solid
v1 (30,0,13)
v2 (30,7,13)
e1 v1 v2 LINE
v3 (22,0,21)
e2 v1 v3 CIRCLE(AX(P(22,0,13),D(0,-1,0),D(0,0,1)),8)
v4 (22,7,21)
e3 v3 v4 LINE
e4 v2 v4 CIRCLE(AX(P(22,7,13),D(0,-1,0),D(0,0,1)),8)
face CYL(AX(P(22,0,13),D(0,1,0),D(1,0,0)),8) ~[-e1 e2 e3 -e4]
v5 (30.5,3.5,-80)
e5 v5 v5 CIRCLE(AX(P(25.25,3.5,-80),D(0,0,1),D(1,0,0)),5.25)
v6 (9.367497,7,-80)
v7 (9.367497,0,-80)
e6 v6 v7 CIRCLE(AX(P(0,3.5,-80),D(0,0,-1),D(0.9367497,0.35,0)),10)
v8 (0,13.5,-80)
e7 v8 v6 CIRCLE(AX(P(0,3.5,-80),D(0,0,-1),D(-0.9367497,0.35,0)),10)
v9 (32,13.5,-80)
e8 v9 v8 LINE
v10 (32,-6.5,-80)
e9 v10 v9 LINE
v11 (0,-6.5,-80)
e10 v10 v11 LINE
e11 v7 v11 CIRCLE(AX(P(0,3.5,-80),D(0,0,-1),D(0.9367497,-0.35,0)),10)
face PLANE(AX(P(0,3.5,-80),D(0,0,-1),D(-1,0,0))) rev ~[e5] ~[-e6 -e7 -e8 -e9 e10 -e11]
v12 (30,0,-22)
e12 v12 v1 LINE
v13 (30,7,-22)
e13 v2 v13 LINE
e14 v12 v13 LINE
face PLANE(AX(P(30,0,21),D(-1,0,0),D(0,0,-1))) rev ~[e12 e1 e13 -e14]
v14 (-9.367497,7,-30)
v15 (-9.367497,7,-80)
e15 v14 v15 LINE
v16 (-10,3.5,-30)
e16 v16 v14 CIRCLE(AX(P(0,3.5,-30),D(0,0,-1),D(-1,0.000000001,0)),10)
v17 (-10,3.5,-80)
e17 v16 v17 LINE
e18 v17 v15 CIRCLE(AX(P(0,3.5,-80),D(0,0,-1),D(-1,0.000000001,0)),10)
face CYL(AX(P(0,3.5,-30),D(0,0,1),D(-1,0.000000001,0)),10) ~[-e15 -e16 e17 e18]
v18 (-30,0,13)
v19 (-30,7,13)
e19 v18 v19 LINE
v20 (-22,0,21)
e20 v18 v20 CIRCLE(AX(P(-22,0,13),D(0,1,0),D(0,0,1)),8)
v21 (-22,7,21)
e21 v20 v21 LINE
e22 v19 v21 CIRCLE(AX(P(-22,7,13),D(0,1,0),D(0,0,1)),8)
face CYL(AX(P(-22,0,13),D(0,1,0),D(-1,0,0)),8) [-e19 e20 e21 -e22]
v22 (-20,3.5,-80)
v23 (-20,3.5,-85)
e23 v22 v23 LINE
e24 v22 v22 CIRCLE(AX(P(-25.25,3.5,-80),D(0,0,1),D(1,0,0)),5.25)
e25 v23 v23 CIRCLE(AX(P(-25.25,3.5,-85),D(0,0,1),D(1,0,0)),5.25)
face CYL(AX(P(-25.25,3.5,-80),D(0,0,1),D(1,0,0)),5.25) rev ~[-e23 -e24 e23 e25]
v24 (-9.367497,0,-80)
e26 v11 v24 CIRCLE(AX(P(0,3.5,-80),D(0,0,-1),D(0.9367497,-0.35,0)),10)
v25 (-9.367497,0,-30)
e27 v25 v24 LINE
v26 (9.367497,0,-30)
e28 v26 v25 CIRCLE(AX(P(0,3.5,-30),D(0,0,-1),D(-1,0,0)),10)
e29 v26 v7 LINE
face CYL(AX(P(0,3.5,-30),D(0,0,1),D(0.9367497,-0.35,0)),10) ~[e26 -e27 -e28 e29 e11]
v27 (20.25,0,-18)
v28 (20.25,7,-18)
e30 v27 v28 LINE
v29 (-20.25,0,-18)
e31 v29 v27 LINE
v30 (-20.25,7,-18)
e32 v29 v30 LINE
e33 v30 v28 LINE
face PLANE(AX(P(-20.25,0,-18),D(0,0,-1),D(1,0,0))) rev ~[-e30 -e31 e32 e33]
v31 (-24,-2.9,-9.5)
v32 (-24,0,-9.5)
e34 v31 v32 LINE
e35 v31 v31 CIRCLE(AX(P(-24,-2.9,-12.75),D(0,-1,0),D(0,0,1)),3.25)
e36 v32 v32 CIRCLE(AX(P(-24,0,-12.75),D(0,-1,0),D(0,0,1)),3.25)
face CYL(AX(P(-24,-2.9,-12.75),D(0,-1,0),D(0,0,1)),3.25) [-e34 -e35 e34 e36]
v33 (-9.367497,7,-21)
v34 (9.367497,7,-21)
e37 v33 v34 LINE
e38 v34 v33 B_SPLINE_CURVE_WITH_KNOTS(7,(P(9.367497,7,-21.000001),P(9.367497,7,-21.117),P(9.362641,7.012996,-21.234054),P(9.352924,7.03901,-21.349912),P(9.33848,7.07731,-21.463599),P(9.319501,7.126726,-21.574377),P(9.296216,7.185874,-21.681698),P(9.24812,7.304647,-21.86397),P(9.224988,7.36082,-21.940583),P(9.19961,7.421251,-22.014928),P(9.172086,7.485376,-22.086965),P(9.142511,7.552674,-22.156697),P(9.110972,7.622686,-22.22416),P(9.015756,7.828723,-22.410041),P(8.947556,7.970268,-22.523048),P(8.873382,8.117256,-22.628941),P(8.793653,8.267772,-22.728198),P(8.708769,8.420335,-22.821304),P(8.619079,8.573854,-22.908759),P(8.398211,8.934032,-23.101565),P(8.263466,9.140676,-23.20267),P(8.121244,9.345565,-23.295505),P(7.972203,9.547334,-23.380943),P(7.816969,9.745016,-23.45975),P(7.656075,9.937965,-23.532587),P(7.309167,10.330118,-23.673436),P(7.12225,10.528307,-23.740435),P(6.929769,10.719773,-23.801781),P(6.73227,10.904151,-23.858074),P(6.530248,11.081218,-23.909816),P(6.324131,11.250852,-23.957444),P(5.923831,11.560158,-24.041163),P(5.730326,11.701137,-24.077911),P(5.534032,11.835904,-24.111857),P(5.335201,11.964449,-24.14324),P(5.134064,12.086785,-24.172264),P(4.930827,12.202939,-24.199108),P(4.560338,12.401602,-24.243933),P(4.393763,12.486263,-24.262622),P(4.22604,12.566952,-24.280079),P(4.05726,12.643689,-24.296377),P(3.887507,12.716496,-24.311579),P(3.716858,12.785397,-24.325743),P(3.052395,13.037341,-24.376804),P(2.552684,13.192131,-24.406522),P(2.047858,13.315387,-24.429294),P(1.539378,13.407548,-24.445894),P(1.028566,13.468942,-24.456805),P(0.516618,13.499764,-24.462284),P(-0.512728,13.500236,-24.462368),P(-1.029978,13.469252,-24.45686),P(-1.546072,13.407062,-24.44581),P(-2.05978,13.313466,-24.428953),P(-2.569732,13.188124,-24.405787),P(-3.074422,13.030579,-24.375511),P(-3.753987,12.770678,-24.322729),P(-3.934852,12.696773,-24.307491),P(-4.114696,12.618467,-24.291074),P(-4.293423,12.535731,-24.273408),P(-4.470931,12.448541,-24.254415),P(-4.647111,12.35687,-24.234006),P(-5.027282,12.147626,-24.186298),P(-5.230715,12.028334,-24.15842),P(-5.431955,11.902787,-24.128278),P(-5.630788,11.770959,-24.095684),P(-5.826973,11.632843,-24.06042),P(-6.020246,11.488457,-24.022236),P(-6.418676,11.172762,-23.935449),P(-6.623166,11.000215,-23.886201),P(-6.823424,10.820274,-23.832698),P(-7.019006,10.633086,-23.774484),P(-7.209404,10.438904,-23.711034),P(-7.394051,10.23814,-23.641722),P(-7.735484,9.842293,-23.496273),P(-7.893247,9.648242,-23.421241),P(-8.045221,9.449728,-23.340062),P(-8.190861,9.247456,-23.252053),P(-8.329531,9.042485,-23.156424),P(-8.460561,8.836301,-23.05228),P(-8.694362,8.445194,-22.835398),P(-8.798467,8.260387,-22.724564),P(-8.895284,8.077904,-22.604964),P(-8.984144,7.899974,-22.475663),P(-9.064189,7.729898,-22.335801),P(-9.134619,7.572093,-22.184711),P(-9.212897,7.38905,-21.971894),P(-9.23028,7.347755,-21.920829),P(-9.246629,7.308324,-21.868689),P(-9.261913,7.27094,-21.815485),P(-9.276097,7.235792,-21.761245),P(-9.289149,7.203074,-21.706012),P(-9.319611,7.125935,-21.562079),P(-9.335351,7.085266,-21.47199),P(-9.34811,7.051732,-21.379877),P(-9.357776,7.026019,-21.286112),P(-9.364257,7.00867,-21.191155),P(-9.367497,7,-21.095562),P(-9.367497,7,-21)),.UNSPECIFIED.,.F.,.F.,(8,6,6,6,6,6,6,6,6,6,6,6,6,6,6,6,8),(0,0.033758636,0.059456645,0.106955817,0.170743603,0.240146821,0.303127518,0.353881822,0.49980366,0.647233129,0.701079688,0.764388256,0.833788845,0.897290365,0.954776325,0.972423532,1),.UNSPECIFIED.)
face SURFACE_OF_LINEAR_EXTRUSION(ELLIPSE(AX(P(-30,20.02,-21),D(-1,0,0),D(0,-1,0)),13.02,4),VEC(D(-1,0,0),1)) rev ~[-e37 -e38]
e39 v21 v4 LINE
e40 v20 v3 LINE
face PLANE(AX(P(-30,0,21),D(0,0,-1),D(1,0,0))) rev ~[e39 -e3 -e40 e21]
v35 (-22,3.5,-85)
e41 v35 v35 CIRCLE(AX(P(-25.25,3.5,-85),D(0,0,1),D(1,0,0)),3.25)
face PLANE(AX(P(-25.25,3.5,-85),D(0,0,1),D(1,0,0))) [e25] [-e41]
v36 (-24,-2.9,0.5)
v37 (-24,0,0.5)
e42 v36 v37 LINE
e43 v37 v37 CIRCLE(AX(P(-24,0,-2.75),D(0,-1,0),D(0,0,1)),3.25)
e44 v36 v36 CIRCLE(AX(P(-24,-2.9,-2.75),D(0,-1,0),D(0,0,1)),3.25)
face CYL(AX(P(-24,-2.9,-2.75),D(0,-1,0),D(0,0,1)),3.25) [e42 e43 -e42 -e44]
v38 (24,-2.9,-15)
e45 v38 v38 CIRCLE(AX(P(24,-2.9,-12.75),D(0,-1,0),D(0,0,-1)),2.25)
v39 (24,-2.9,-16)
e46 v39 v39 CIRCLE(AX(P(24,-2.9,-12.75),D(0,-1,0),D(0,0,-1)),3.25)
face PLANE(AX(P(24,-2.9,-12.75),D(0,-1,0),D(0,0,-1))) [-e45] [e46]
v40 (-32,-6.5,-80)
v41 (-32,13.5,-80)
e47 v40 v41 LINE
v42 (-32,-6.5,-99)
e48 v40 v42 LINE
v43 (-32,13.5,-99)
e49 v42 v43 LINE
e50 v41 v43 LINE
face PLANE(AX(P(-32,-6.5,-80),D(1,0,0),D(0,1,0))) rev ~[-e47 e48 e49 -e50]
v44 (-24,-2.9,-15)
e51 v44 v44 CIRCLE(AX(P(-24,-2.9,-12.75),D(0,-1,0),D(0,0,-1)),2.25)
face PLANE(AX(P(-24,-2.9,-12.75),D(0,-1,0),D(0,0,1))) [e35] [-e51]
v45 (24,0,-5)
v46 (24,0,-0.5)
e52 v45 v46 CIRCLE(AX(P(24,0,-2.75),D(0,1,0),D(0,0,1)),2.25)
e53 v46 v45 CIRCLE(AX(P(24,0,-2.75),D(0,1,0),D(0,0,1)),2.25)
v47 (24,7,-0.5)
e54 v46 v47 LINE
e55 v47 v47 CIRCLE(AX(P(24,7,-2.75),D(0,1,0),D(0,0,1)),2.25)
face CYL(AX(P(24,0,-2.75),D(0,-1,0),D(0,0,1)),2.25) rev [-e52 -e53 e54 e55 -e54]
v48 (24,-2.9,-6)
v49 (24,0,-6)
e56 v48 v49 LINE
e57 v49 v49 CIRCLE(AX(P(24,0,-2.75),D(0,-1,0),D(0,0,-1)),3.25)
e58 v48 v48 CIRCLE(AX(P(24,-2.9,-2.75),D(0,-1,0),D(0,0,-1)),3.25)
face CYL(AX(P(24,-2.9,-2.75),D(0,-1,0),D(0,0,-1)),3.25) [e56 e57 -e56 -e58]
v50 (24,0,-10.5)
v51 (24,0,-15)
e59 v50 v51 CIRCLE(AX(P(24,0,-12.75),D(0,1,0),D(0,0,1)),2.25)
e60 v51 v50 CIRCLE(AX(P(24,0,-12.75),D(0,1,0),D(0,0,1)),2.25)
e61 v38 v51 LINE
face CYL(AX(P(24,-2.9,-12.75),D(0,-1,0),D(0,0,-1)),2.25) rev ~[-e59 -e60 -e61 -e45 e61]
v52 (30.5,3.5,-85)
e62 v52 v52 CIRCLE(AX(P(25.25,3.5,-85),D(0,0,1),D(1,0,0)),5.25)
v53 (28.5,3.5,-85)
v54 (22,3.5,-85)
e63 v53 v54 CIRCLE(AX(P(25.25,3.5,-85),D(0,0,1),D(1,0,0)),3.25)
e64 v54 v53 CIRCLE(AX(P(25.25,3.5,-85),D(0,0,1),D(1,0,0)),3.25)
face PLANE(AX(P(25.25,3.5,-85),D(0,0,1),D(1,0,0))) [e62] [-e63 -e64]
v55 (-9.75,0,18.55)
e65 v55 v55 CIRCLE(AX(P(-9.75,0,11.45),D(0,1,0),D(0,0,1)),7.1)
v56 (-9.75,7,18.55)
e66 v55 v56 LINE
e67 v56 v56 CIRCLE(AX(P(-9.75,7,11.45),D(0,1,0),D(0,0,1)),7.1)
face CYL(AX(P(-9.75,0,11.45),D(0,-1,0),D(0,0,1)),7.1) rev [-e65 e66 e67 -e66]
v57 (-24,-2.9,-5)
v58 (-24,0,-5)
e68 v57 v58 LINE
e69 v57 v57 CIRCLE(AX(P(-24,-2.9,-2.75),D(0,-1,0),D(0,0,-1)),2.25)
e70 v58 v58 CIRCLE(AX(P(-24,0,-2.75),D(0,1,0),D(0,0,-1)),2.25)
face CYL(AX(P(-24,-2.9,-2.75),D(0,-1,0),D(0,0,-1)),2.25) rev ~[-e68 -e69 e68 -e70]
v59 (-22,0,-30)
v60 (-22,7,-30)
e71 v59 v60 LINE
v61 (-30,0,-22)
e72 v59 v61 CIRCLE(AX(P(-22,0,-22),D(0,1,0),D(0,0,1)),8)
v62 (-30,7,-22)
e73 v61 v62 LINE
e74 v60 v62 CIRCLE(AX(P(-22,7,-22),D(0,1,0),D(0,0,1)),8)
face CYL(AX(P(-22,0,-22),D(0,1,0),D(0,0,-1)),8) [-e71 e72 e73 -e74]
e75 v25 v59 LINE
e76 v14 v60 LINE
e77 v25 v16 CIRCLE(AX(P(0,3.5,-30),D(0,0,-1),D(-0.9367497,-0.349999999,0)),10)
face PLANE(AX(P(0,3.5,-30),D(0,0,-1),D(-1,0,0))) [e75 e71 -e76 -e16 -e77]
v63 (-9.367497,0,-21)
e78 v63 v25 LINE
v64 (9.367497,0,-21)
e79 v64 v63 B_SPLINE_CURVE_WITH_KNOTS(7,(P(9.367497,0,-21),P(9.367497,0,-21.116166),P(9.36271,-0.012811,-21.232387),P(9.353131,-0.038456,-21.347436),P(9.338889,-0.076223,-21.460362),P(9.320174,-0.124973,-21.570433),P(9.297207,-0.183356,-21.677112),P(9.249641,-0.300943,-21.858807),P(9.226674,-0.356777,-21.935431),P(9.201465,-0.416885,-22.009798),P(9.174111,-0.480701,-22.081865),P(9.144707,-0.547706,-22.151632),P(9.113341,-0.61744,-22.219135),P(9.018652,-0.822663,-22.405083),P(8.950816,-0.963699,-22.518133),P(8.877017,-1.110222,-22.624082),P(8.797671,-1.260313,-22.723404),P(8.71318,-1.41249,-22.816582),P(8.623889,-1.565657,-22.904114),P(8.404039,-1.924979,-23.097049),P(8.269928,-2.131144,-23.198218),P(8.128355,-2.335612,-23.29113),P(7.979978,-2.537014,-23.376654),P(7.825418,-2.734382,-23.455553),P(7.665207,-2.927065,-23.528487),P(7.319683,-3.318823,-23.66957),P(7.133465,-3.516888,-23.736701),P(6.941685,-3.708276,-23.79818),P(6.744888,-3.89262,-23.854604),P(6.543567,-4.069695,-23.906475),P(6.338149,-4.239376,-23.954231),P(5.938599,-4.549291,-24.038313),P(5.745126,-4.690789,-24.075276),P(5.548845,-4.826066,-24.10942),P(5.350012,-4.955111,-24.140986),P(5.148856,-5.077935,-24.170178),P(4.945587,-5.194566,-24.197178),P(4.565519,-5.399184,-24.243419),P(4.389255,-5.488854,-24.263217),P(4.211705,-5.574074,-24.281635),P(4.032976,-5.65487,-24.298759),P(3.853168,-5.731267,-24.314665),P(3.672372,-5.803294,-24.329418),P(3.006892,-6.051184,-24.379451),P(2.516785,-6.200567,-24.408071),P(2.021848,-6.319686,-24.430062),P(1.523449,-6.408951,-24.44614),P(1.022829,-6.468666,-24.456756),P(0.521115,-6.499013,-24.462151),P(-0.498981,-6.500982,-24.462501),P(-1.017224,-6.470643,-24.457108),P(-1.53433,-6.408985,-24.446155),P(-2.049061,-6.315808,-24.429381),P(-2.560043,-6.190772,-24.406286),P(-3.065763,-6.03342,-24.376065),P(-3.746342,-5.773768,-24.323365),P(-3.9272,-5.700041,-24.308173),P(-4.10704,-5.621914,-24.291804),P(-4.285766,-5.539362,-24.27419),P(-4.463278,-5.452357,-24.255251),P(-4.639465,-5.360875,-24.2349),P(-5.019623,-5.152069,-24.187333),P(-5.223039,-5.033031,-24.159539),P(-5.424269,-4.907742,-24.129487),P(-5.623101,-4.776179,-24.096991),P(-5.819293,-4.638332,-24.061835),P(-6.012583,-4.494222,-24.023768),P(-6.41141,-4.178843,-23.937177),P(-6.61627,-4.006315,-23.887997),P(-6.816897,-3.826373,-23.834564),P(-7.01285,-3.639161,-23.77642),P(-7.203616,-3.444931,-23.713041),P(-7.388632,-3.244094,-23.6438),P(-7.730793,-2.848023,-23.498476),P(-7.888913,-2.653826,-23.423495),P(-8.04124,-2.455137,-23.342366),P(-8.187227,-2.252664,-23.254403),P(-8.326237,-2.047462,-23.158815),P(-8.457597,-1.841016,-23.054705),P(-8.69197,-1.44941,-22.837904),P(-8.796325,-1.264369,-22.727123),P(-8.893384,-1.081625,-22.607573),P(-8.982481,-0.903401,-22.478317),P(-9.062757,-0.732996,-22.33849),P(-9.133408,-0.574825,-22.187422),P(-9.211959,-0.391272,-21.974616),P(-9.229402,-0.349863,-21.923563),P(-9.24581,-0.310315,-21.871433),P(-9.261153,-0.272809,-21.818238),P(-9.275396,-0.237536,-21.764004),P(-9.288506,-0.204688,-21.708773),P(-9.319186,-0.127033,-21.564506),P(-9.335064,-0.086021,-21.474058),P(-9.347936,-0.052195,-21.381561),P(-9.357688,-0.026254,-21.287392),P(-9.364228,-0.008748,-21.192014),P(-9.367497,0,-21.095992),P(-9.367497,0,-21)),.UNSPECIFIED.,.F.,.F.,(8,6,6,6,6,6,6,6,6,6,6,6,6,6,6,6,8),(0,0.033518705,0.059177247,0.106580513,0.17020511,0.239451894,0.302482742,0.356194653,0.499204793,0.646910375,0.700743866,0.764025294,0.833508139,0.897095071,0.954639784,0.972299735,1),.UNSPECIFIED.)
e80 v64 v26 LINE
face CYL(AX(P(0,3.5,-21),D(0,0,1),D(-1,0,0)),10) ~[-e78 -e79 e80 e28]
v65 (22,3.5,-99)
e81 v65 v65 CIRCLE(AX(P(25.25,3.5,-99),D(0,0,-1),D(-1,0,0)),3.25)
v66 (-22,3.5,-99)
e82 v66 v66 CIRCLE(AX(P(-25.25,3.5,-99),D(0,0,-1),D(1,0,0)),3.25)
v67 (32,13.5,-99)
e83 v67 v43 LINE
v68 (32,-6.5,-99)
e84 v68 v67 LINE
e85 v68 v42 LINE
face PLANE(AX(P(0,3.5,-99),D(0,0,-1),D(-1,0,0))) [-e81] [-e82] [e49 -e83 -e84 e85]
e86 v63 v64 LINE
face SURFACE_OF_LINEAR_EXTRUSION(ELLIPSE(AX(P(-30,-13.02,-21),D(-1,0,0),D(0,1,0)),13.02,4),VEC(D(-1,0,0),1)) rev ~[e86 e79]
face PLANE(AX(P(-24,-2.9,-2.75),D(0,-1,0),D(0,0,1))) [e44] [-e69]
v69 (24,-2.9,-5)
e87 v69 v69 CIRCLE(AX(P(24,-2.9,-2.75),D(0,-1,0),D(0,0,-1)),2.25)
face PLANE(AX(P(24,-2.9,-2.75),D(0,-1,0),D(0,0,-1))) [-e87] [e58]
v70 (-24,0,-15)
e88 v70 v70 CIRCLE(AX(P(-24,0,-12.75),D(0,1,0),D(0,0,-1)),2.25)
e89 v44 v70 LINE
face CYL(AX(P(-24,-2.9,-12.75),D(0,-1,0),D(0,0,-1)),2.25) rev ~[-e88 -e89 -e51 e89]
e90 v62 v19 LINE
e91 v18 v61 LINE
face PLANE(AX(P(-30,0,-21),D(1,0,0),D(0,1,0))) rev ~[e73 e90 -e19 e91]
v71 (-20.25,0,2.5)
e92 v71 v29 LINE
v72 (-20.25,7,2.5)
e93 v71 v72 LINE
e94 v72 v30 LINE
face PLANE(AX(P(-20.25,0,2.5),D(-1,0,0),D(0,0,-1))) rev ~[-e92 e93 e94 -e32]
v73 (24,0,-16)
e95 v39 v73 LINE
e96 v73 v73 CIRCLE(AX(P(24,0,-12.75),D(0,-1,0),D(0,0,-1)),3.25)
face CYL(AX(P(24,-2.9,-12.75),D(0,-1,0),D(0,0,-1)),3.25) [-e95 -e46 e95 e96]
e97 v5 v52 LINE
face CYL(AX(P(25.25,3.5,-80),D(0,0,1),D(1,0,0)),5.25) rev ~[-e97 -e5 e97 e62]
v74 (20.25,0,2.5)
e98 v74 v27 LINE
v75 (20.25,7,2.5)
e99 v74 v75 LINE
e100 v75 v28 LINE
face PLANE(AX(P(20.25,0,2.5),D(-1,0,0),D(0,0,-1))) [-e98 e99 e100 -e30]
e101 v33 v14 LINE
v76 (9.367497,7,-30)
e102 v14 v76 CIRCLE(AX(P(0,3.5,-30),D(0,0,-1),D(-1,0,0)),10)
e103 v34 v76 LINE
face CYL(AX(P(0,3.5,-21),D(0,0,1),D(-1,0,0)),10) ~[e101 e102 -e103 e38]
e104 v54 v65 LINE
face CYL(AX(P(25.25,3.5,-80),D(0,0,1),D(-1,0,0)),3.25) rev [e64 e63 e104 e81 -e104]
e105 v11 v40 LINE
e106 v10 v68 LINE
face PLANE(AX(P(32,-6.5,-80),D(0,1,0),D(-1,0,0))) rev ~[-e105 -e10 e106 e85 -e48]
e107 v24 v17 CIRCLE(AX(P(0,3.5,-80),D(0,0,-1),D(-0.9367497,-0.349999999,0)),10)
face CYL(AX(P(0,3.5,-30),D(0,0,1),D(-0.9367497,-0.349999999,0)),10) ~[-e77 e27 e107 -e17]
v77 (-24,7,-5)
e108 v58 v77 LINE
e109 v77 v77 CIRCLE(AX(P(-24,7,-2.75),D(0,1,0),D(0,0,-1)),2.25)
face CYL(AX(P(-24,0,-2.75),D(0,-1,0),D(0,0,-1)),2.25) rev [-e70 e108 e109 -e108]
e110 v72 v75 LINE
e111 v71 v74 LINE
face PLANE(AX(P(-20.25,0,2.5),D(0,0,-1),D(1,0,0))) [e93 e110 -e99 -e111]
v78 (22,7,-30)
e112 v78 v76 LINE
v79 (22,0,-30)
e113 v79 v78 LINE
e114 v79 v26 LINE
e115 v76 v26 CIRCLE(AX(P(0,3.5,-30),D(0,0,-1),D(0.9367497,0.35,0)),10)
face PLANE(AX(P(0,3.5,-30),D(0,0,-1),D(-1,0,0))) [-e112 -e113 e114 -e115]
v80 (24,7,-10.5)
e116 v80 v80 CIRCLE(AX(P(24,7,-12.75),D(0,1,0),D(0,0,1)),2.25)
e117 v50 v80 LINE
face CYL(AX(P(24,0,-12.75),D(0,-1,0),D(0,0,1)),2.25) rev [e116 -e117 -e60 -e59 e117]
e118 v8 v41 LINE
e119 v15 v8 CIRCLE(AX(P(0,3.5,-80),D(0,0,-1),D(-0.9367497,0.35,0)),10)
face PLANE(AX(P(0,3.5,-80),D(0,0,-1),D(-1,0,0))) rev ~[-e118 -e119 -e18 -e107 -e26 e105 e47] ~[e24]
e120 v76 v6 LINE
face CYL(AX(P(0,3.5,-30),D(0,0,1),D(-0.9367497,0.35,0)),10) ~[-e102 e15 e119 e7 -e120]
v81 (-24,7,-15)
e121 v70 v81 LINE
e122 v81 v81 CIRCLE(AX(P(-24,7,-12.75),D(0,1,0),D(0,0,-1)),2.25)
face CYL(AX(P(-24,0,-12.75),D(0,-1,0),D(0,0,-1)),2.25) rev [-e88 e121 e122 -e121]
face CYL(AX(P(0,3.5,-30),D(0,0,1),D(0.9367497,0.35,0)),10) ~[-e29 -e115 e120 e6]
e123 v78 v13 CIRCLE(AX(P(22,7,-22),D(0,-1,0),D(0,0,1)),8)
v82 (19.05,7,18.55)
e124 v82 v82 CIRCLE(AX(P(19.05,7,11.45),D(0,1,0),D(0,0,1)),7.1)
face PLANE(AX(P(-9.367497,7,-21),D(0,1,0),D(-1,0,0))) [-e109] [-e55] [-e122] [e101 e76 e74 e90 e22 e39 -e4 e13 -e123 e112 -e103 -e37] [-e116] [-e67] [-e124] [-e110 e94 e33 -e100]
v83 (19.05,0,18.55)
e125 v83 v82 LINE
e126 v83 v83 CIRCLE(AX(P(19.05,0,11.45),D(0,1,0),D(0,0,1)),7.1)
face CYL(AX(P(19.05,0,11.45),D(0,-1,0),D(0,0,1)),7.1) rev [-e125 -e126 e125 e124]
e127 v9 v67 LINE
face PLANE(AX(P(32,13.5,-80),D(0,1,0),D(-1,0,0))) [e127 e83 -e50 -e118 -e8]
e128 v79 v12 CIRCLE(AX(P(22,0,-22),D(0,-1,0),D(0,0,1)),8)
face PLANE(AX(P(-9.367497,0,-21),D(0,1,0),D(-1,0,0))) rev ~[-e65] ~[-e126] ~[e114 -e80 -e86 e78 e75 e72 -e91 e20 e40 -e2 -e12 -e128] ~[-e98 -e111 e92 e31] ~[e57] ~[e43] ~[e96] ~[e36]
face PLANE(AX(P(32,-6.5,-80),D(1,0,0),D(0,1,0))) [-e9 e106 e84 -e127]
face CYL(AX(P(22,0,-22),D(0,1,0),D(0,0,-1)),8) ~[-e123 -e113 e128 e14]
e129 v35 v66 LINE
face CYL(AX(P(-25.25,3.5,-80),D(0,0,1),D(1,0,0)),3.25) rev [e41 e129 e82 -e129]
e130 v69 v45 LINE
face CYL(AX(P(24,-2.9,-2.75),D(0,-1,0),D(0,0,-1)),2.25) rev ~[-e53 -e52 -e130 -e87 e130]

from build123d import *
from build123d.topology import SkipClean

# Parameters (mm, degrees)
SKETCH1_W           = 60
SKETCH1_H           = 42
SKETCH1_R           = 7.1
SKETCH1_R_2         = 2.25
SKETCH1_W_2         = 40.5
SKETCH1_H_2         = 20.5
BOSS_EXTRUDE1_DEPTH = 7
BOSS_EXTRUDE2_START = 2.9
SKETCH2_R           = 3.25
SKETCH2_R_2         = 2.25
BOSS_EXTRUDE2_DEPTH = 2.9
SKETCH3_R           = 10
SKETCH3_W           = 60
SKETCH3_H           = 7
BOSS_EXTRUDE3_DEPTH = 9
SKETCH4_RX          = 13.02
SKETCH4_RY          = 4
CUT_EXTRUDE1_DEPTH  = 69.426968368
FILLET1_R           = 8
BOSS_EXTRUDE4_DEPTH = 50
SKETCH6_W           = 64
SKETCH6_H           = 20
SKETCH6_R           = 3.25
BOSS_EXTRUDE5_DEPTH = 19
SKETCH7_R           = 5.25
SKETCH7_R_2         = 3.25
CUT_EXTRUDE2_DEPTH  = 5


with BuildPart() as part:
    # Sketch1 → Boss-Extrude1 (new body)
    with BuildSketch(Plane(origin=(0, 0, 0), x_dir=(1, 0, 0), z_dir=(0, 1, 0))):
        Rectangle(SKETCH1_W, SKETCH1_H)
        with Locations(Location((-9.75, -11.45, 0), (0, 0, 270))):
            Circle(SKETCH1_R, mode=Mode.SUBTRACT)
        with Locations(Location((19.05, -11.45, 0), (0, 0, 270))):
            Circle(SKETCH1_R, mode=Mode.SUBTRACT)
        with Locations(Location((24, 12.75, 0), (0, 0, 270))):
            Circle(SKETCH1_R_2, mode=Mode.SUBTRACT)
        with Locations(Location((24, 2.75, 0), (0, 0, 270))):
            Circle(SKETCH1_R_2, mode=Mode.SUBTRACT)
        with Locations(Location((-24, 2.75, 0), (0, 0, 90))):
            Circle(SKETCH1_R_2, mode=Mode.SUBTRACT)
        with Locations(Location((-24, 12.75, 0), (0, 0, 90))):
            Circle(SKETCH1_R_2, mode=Mode.SUBTRACT)
        with Locations((0, 7.75)):
            Rectangle(SKETCH1_W_2, SKETCH1_H_2, mode=Mode.SUBTRACT)
    extrude(amount=BOSS_EXTRUDE1_DEPTH)

    # Sketch2 → Boss-Extrude2 (add)
    # profile 1 of 4: a face of its own
    with SkipClean():  # the faces are left unmerged after this step: merging them gives an invalid solid
        with BuildSketch(Plane.XZ.offset(BOSS_EXTRUDE2_START)):
            with Locations(Location((24, -2.75, 0), (0, 0, 270))):
                Circle(SKETCH2_R)
            with Locations(Location((24, -2.75, 0), (0, 0, 270))):
                Circle(SKETCH2_R_2, mode=Mode.SUBTRACT)
        # profile 2 of 4: a face of its own
        with BuildSketch(Plane.XZ.offset(BOSS_EXTRUDE2_START)):
            with Locations(Location((24, -12.75, 0), (0, 0, 270))):
                Circle(SKETCH2_R)
            with Locations(Location((24, -12.75, 0), (0, 0, 270))):
                Circle(SKETCH2_R_2, mode=Mode.SUBTRACT)
        # profile 3 of 4: a face of its own
        with BuildSketch(Plane.XZ.offset(BOSS_EXTRUDE2_START)):
            with Locations(Location((-24, -12.75, 0), (0, 0, 90))):
                Circle(SKETCH2_R)
            with Locations(Location((-24, -12.75, 0), (0, 0, 270))):
                Circle(SKETCH2_R_2, mode=Mode.SUBTRACT)
        # profile 4 of 4: a face of its own
        with BuildSketch(Plane.XZ.offset(BOSS_EXTRUDE2_START)):
            with Locations(Location((-24, -2.75, 0), (0, 0, 90))):
                Circle(SKETCH2_R)
            with Locations(Location((-24, -2.75, 0), (0, 0, 270))):
                Circle(SKETCH2_R_2, mode=Mode.SUBTRACT)
        extrude(amount=-BOSS_EXTRUDE2_DEPTH)

    # Sketch3 → Boss-Extrude3 (add)
    with SkipClean():  # the faces are left unmerged after this step: merging them gives an invalid solid
        with BuildSketch(Plane(origin=(0, 0, -21), x_dir=(-1, 0, 0), z_dir=(0, 0, -1))):
            with Locations((0, 3.5)):
                Circle(SKETCH3_R)
            with Locations((0, 3.5)):
                Rectangle(SKETCH3_W, SKETCH3_H)
        extrude(amount=BOSS_EXTRUDE3_DEPTH)

    # Sketch4 → Cut-Extrude1 (cut, through all)
    with SkipClean():  # the faces are left unmerged after this step: merging them gives an invalid solid
        with BuildSketch(Plane.ZY.offset(30)):
            with Locations(Location((-21, 20.02), (0, 0, -90))):
                Ellipse(SKETCH4_RX, SKETCH4_RY)
            with Locations(Location((-21, -13.02), (0, 0, 90))):
                Ellipse(SKETCH4_RX, SKETCH4_RY)
        extrude(amount=-CUT_EXTRUDE1_DEPTH, mode=Mode.SUBTRACT)

    # Fillet1
    fillet1_edges = [part.edges().sort_by_distance(p)[0] for p in [
        (30, 3.5, 21),
        (-30, 3.5, 21),
        (30, 3.5, -30),
        (-30, 3.5, -30),
    ]]
    fillet(fillet1_edges, radius=FILLET1_R)

    # Sketch5 → Boss-Extrude4 (add)
    with SkipClean():  # the faces are left unmerged after this step: merging them gives an invalid solid
        with BuildSketch(Plane(origin=(0, 0, -30), x_dir=(-1, 0, 0), z_dir=(0, 0, -1))):
            with BuildLine():
                ThreePointArc((10, 3.5), (9.840603893, 5.278346145), (9.367496998, 7))
                ThreePointArc((9.367496998, 7), (0, 13.5), (-9.367496998, 7))
                ThreePointArc((-9.367496998, 7), (-10, 3.5), (-9.367496998, 0))
                ThreePointArc((-9.367496998, 0), (0, -6.5), (9.367496998, 0))
                ThreePointArc((9.367496998, 0), (9.840603893, 1.721653855), (10, 3.5))
            make_face()
        extrude(amount=BOSS_EXTRUDE4_DEPTH)

    # Sketch6 → Boss-Extrude5 (add)
    with SkipClean():  # the faces are left unmerged after this step: merging them gives an invalid solid
        with BuildSketch(Plane(origin=(0, 0, -80), x_dir=(-1, 0, 0), z_dir=(0, 0, -1))):
            with Locations((0, 3.5)):
                Rectangle(SKETCH6_W, SKETCH6_H)
            with Locations((-25.25, 3.5)):
                Circle(SKETCH6_R, mode=Mode.SUBTRACT)
            with Locations(Location((25.25, 3.5, 0), (0, 0, 180))):
                Circle(SKETCH6_R, mode=Mode.SUBTRACT)
        extrude(amount=BOSS_EXTRUDE5_DEPTH)

    # Sketch7 → Cut-Extrude2 (cut)
    # profile 1 of 2: a face of its own
    with SkipClean():  # the faces are left unmerged after this step: merging them gives an invalid solid
        with BuildSketch(Plane.XY.offset(-80)):
            with Locations((25.25, 3.5)):
                Circle(SKETCH7_R)
            with Locations((25.25, 3.5)):
                Circle(SKETCH7_R_2, mode=Mode.SUBTRACT)
        # profile 2 of 2: a face of its own
        with BuildSketch(Plane.XY.offset(-80)):
            with Locations((-25.25, 3.5)):
                Circle(SKETCH7_R)
            with Locations((-25.25, 3.5)):
                Circle(SKETCH7_R_2, mode=Mode.SUBTRACT)
        extrude(amount=-CUT_EXTRUDE2_DEPTH, mode=Mode.SUBTRACT)


solid = part.part
